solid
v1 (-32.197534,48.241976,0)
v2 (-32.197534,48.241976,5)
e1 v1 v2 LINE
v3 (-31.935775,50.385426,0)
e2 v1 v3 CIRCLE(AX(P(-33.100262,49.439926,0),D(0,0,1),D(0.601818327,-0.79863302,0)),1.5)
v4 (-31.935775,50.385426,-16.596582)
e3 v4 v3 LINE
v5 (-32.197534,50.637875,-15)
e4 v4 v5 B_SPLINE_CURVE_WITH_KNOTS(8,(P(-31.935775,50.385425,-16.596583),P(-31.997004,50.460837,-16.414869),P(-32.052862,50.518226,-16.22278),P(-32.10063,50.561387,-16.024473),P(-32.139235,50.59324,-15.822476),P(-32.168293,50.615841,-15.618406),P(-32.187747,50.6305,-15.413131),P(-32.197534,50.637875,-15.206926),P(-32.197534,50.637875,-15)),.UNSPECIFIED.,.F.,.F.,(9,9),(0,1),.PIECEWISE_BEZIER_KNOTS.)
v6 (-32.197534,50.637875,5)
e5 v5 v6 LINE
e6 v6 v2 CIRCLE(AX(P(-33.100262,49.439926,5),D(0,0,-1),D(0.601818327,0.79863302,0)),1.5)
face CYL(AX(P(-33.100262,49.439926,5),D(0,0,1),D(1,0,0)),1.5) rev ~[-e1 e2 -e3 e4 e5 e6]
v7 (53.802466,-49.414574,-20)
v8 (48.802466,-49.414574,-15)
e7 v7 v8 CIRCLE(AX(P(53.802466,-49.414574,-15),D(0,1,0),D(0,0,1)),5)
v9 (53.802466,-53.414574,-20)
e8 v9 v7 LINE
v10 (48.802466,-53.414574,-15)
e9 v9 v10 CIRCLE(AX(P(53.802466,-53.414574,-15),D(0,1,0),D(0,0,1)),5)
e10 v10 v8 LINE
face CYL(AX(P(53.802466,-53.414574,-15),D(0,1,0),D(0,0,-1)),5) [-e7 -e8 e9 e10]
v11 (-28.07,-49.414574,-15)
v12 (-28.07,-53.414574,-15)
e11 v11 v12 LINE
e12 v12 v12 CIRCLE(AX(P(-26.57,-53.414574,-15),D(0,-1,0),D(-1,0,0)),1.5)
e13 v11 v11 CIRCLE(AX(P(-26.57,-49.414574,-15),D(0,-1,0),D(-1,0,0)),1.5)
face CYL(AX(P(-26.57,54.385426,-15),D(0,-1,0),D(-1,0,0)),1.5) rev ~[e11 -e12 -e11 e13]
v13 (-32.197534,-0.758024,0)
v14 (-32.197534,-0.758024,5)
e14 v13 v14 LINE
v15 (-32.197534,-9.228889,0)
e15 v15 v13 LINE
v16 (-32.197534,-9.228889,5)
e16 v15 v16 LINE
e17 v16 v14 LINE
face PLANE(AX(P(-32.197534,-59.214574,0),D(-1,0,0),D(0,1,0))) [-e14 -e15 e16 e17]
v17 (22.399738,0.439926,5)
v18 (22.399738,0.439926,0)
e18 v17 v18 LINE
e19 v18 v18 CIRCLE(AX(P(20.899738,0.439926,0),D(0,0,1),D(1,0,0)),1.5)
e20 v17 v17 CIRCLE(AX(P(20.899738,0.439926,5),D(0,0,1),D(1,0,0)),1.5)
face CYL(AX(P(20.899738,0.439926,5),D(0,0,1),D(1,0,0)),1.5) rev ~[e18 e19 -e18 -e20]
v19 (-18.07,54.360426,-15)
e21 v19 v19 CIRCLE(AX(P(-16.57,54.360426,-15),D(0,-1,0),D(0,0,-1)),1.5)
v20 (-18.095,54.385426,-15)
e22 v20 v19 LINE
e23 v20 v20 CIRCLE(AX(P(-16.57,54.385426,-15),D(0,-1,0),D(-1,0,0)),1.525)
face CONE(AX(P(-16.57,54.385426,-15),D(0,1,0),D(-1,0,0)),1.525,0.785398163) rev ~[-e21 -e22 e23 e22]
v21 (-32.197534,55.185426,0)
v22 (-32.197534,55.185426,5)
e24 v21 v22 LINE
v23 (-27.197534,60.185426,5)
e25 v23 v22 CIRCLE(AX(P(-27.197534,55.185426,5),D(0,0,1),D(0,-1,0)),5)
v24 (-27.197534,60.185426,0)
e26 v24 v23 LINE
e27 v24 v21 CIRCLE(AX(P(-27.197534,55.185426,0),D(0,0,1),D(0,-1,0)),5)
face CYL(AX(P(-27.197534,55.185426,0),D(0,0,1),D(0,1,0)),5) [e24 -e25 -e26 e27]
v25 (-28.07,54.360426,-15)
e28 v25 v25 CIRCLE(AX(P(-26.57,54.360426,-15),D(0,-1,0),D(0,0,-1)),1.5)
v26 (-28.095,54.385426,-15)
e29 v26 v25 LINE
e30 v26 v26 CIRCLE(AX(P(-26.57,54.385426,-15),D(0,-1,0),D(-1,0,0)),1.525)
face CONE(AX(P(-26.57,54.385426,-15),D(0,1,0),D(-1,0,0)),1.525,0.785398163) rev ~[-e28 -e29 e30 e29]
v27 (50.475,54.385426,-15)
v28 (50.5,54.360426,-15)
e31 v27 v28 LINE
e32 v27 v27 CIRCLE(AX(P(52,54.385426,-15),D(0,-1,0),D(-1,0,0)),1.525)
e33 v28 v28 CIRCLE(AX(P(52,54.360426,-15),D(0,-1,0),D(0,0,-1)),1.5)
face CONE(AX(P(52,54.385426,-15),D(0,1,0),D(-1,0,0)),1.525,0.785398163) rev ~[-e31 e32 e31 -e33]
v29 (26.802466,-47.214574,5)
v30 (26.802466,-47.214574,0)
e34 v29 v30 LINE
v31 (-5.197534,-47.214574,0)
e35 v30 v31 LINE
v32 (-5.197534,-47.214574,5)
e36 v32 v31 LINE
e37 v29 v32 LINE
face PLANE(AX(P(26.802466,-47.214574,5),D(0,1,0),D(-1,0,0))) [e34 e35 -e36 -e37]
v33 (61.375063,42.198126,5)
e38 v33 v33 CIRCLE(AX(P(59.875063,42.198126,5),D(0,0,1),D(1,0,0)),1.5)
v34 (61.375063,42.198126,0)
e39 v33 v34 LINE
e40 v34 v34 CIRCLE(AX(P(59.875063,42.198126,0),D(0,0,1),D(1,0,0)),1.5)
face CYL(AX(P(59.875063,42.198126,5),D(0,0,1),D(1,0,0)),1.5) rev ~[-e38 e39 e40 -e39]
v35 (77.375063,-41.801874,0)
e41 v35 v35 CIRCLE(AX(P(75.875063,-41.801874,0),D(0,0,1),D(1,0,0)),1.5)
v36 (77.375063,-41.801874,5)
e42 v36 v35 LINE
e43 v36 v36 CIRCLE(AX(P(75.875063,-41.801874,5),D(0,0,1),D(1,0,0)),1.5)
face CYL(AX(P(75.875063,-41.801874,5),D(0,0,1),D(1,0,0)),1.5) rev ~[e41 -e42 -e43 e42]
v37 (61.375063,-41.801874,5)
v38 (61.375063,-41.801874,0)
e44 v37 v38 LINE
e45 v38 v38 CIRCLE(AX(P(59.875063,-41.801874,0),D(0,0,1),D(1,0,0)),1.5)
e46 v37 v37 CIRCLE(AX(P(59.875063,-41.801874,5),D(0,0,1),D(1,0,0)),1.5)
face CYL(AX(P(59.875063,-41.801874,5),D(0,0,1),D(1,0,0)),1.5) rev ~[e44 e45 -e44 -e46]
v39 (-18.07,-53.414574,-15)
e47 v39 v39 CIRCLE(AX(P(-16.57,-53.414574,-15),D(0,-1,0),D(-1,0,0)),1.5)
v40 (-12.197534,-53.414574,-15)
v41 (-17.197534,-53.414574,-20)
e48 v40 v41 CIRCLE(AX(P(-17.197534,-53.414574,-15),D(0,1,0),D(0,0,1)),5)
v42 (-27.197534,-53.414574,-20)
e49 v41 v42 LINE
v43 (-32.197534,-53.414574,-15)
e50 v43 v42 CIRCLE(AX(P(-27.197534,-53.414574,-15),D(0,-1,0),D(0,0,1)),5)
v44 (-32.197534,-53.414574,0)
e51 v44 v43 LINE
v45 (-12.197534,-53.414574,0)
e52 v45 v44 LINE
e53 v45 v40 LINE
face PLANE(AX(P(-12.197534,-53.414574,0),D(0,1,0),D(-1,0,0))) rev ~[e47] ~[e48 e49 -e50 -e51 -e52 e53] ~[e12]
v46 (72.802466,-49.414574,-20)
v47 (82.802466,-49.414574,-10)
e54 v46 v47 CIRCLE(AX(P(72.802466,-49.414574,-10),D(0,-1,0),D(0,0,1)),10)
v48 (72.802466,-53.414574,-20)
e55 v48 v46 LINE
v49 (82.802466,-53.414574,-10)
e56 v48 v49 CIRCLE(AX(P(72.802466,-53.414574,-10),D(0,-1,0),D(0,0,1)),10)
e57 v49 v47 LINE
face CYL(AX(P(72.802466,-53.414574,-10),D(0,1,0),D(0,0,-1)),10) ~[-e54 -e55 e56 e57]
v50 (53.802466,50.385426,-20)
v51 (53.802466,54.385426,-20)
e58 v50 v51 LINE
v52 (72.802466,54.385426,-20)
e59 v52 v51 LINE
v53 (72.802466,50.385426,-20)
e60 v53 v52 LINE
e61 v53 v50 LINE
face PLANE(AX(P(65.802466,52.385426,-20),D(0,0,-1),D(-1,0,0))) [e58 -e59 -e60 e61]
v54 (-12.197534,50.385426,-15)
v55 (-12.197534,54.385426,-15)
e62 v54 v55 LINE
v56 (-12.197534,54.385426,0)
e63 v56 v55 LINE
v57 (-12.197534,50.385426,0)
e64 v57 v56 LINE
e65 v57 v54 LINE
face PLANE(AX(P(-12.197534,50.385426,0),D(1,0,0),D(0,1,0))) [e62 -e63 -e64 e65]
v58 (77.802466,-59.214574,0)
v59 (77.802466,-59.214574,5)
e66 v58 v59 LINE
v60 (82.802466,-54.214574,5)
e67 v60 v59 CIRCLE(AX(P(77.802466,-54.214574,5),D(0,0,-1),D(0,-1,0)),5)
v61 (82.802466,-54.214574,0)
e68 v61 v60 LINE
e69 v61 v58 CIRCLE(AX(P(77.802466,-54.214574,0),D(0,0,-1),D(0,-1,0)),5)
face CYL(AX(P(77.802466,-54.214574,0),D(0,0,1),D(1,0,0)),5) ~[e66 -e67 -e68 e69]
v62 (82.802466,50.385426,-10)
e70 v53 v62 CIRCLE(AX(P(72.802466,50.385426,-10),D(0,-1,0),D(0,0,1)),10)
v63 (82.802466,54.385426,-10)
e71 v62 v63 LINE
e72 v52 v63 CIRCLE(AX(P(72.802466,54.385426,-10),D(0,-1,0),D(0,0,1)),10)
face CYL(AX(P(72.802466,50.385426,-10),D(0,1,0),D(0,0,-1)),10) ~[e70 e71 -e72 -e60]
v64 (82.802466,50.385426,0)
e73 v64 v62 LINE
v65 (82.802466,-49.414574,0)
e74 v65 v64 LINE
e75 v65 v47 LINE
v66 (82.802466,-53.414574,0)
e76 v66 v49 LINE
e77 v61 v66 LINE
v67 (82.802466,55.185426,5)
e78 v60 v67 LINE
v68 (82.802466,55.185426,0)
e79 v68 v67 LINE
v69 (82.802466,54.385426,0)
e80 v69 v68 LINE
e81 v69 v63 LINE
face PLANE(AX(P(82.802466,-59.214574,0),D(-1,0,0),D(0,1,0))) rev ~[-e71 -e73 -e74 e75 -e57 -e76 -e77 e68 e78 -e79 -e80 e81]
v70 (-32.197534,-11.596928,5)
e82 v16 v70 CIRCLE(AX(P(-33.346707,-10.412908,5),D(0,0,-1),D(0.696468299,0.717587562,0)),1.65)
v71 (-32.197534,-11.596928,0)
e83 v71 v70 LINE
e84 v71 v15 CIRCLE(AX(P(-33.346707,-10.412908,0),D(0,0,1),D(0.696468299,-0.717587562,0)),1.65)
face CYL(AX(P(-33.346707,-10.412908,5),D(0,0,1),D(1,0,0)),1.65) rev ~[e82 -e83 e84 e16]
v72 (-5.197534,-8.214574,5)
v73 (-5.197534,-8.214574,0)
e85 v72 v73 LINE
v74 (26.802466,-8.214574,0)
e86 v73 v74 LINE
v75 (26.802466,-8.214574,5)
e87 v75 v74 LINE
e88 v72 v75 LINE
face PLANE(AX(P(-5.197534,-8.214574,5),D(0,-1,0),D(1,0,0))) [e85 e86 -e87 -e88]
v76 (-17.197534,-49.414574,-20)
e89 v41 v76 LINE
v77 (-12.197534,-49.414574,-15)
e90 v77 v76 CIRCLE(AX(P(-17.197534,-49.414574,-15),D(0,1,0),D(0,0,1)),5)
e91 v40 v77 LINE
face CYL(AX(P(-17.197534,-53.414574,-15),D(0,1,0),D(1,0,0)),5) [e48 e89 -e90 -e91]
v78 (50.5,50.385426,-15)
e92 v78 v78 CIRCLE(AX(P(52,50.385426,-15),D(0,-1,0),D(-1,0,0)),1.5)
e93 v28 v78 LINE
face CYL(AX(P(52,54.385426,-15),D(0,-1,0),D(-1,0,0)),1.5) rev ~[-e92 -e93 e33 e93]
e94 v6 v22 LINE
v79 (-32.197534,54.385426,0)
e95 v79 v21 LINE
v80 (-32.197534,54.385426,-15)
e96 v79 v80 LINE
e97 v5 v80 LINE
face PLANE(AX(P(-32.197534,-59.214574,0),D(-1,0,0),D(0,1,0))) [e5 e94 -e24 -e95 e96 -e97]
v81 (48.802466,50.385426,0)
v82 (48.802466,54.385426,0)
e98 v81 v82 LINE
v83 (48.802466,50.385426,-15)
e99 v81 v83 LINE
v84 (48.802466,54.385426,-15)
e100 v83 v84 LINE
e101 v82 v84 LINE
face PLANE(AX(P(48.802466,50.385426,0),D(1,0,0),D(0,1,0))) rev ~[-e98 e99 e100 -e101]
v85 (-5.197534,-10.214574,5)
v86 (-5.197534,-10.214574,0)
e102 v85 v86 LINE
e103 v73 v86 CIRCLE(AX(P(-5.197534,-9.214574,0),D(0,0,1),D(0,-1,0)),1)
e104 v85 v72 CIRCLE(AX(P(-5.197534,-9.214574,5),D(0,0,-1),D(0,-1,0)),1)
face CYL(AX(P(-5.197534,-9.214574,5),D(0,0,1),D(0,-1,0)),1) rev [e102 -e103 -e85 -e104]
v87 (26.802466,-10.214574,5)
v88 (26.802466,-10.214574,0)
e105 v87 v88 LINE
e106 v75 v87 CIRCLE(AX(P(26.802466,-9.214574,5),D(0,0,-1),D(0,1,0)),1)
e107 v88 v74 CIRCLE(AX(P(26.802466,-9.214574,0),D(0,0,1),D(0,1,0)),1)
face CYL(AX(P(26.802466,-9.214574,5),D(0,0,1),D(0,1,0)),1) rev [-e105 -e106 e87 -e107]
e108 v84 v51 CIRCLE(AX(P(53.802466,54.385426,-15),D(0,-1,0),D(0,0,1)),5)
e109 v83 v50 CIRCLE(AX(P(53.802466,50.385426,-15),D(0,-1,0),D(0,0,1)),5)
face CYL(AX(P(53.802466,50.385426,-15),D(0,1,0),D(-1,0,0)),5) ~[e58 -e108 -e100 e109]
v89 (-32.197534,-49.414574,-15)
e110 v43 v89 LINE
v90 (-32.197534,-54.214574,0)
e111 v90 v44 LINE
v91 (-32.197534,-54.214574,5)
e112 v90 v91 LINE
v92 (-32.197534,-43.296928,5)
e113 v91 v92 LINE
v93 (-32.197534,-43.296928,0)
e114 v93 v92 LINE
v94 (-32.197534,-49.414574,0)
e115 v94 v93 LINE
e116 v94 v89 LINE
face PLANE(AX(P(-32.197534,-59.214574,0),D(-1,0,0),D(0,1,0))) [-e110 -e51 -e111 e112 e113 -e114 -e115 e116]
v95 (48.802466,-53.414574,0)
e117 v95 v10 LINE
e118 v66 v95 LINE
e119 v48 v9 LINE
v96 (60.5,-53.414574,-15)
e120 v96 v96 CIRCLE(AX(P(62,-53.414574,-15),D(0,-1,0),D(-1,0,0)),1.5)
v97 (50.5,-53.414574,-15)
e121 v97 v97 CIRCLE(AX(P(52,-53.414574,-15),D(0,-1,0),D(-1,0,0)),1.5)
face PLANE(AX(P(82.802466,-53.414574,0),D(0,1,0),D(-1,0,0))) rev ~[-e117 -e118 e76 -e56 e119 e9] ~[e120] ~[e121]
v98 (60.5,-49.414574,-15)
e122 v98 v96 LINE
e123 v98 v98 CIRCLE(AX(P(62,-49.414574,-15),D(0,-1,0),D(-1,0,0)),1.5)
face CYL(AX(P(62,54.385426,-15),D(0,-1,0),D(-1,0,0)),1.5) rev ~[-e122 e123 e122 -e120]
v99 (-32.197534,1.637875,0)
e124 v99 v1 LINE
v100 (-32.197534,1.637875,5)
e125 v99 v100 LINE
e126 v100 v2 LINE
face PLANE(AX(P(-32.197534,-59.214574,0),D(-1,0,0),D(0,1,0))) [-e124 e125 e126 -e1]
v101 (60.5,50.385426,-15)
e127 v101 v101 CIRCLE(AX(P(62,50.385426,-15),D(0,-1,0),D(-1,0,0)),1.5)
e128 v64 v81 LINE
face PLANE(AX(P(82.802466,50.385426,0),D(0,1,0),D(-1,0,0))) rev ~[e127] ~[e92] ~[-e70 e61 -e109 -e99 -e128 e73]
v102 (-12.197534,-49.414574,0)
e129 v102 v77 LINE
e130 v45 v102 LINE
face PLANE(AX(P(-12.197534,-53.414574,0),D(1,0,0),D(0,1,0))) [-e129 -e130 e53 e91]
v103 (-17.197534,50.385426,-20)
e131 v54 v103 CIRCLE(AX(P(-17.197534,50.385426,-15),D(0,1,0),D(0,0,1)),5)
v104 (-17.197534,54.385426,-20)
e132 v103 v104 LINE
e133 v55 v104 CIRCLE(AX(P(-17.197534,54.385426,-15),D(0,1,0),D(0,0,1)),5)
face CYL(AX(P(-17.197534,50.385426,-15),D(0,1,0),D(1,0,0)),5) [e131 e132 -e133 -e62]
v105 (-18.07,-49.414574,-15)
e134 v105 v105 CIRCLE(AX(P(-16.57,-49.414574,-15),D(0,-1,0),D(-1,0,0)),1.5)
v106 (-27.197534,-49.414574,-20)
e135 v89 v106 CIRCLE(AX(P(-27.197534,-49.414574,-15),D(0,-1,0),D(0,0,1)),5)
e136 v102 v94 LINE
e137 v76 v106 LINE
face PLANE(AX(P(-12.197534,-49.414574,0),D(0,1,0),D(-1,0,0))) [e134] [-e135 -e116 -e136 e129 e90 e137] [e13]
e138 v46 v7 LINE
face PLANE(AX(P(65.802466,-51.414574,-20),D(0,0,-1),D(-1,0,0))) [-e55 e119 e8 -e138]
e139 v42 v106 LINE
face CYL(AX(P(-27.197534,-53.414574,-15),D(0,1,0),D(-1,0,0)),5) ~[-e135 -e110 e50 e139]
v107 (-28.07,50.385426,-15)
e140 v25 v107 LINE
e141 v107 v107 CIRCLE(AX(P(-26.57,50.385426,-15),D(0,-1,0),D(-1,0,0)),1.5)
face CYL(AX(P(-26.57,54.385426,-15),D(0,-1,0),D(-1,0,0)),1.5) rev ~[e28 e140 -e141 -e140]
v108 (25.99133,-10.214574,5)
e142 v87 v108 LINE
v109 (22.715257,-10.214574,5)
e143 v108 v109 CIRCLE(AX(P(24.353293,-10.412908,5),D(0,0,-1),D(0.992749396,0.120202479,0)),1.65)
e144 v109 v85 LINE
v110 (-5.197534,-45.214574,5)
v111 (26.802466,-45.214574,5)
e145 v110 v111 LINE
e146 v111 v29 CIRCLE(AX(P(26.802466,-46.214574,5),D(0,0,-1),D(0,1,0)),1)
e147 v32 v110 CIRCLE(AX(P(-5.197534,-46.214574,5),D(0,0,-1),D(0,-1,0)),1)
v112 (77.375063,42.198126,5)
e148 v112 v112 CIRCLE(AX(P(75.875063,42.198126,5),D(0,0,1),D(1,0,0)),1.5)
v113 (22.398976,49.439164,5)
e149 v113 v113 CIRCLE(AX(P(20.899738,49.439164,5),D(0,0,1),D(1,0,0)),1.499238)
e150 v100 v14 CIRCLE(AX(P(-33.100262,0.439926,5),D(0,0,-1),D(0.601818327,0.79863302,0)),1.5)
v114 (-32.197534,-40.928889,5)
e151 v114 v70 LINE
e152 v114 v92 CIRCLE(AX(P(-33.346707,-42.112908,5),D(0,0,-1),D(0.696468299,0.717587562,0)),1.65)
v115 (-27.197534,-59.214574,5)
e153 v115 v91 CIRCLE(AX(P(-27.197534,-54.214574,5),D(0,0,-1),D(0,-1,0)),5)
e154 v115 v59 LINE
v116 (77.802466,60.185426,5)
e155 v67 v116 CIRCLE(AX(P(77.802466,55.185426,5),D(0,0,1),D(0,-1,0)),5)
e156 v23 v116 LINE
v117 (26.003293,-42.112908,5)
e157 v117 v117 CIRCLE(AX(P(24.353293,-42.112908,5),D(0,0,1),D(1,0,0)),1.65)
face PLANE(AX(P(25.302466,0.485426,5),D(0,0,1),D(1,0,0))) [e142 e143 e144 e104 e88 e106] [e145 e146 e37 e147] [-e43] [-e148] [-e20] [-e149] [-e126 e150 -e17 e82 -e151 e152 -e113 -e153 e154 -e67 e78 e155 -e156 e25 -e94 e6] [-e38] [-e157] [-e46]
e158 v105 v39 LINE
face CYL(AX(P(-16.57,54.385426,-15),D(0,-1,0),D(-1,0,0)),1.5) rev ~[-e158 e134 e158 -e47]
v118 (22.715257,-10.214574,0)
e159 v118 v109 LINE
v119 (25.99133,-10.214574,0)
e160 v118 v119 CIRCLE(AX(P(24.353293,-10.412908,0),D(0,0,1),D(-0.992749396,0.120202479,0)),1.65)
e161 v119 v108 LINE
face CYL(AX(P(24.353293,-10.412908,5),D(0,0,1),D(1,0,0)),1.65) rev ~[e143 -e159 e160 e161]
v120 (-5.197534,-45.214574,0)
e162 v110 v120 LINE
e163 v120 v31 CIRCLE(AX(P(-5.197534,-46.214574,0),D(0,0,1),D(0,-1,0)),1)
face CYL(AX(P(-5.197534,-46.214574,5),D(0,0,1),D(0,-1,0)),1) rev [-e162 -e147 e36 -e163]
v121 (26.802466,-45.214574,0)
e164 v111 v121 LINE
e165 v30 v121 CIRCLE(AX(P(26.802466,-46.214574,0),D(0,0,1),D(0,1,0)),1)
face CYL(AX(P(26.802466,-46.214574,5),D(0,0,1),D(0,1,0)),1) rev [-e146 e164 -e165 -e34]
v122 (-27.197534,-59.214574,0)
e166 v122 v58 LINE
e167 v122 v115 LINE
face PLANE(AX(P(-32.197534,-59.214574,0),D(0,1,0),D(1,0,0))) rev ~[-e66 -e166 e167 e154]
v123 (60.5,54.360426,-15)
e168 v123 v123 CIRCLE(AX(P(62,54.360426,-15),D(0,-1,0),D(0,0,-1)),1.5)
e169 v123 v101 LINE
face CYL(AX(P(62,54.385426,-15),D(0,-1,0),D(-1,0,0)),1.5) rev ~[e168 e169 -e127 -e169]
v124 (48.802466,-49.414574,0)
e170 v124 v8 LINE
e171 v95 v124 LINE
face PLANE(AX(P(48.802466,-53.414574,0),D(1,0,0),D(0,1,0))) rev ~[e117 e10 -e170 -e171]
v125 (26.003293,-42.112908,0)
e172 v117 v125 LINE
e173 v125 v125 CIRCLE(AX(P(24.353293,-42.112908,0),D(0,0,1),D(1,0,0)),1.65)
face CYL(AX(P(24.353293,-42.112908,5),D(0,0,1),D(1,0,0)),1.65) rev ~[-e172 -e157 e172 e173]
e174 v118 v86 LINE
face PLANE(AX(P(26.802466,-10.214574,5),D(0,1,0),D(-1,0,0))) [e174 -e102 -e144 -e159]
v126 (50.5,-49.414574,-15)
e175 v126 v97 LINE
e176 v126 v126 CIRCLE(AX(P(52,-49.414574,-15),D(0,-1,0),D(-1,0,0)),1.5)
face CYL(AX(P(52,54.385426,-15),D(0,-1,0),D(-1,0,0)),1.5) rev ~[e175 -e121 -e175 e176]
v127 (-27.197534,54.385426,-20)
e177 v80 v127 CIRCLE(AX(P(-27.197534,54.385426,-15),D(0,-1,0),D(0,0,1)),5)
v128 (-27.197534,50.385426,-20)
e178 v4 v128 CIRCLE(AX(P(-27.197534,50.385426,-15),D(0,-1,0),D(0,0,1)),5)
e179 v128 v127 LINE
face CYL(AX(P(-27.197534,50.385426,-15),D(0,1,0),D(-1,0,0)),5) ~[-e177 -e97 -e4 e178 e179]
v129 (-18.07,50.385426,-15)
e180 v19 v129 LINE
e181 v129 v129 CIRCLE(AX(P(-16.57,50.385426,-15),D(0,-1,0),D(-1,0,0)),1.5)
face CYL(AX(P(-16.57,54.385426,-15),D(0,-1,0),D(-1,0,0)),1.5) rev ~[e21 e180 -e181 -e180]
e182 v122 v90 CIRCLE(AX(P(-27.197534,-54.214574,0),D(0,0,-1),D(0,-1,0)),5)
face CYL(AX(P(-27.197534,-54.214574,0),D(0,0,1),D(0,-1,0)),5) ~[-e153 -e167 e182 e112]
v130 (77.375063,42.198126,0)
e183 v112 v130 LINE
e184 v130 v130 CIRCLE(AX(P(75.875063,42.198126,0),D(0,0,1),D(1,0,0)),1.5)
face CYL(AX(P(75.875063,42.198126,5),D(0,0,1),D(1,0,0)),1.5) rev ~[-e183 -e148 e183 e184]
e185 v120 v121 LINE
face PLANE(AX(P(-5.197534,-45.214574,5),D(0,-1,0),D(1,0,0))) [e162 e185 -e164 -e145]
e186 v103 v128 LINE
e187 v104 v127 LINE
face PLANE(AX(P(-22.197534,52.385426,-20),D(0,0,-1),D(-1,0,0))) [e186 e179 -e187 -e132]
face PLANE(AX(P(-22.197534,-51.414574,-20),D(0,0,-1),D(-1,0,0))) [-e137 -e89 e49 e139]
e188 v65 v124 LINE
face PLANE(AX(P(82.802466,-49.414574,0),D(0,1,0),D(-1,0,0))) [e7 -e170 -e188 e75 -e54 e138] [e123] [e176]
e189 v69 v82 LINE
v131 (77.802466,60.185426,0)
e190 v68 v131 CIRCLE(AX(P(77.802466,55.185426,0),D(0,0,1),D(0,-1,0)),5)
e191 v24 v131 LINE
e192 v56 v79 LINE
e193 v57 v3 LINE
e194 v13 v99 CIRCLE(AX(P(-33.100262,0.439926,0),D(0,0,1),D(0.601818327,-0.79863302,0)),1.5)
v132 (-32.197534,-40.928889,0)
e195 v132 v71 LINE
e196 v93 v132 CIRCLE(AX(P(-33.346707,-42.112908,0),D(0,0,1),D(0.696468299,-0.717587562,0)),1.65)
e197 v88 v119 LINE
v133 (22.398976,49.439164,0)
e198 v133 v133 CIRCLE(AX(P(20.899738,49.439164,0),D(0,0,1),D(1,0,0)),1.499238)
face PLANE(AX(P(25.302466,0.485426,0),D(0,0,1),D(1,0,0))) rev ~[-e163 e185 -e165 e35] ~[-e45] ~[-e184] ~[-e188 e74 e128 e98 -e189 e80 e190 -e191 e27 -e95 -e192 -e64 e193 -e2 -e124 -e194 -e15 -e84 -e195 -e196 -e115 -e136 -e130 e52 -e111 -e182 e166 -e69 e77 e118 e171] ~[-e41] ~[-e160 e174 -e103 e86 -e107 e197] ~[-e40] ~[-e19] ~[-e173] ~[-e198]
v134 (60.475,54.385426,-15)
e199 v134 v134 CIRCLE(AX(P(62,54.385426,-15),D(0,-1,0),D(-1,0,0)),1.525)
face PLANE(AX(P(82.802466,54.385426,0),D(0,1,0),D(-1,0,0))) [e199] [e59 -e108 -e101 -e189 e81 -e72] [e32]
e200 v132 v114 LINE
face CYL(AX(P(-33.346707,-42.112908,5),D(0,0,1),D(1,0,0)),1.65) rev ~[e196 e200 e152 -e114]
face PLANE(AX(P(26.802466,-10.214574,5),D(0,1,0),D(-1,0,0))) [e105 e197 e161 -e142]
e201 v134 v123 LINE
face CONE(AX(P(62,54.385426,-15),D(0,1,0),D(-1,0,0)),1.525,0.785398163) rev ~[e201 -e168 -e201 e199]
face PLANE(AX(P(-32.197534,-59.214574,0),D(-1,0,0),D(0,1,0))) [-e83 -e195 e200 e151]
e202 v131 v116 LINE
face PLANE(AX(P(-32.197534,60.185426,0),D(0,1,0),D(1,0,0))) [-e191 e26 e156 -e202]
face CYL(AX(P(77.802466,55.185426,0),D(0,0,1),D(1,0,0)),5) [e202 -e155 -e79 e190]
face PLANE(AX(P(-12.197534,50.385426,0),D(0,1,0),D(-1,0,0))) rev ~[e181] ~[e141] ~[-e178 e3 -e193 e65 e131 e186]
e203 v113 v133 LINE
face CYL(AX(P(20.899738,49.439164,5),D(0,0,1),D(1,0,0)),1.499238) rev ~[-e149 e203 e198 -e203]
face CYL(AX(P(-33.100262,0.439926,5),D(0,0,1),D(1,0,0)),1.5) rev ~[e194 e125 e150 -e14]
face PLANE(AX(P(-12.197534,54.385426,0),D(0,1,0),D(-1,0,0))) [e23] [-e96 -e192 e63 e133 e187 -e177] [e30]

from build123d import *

# Parameters (mm, degrees)
SKETCH_1_W            = 115
SKETCH_1_H            = 119.4
EXTRUDE_1_DEPTH       = 5
SKETCH_2_W            = 20
SKETCH_2_H            = 4
SKETCH_2_W_2          = 34
EXTRUDE_2_DEPTH       = 20
F_3_0MM_1_D           = 3
F_3_0MM_1_CSINK_D     = 3.05
F_3_0MM_1_CSINK_ANGLE = 90
FILLET_1_R            = 10
FILLET_2_R            = 5
FILLET_3_R            = 5
SKETCH_5_R            = 1.5
SKETCH_5_R_2          = 1.499237998
SKETCH_5_R_3          = 1.65
CUT_EXTRUDE_1_DEPTH   = 106.373307238
CUT_EXTRUDE_2_DEPTH   = 106.373307262


with BuildPart() as part:
    # 草图1 → 凸台-拉伸1 (new body)
    with BuildSketch(Plane.XY):
        with Locations((25.302465961, 0.485426053)):
            Rectangle(SKETCH_1_W, SKETCH_1_H)
    extrude(amount=EXTRUDE_1_DEPTH)

    # 草图2 → 凸台-拉伸2 (add)
    with BuildSketch(Plane(origin=(0, 0, 0), x_dir=(-1, 0, 0), z_dir=(0, 0, -1))):
        with Locations((22.197534039, 52.385426053)):
            Rectangle(SKETCH_2_W, SKETCH_2_H)
        with Locations((-65.802465961, 52.385426053)):
            Rectangle(SKETCH_2_W_2, SKETCH_2_H)
        with Locations((-65.802465961, -51.414573947)):
            Rectangle(SKETCH_2_W_2, SKETCH_2_H)
        with Locations((22.197534039, -51.414573947)):
            Rectangle(SKETCH_2_W, SKETCH_2_H)
    extrude(amount=EXTRUDE_2_DEPTH)

    # Ø3.0mm 暗销孔1 (through all)
    with Locations(Plane(origin=(0, 54.385426053, 0), x_dir=(1, 0, 0), z_dir=(0, 1, 0))):
        with Locations((62, 15), (-16.57, 15), (-26.57, 15), (52, 15)):
            CounterSinkHole(F_3_0MM_1_D / 2, F_3_0MM_1_CSINK_D / 2, counter_sink_angle=F_3_0MM_1_CSINK_ANGLE)

    # 圆角1
    fillet_1_edges = [part.edges().sort_by_distance(p)[0] for p in [
        (82.802465961, 52.385426053, -20),
        (82.802465961, -51.414573947, -20),
    ]]
    fillet(fillet_1_edges, radius=FILLET_1_R)

    # 圆角2
    fillet_2_edges = [part.edges().sort_by_distance(p)[0] for p in [
        (-12.197534039, 52.385426053, -20),
        (-32.197534039, 52.385426053, -20),
        (48.802465961, 52.385426053, -20),
        (48.802465961, -51.414573947, -20),
        (-12.197534039, -51.414573947, -20),
        (-32.197534039, -51.414573947, -20),
    ]]
    fillet(fillet_2_edges, radius=FILLET_2_R)

    # 圆角3
    fillet_3_edges = [part.edges().sort_by_distance(p)[0] for p in [
        (-32.197534039, 60.185426053, 2.5),
        (82.802465961, 60.185426053, 2.5),
        (82.802465961, -59.214573947, 2.5),
        (-32.197534039, -59.214573947, 2.5),
    ]]
    fillet(fillet_3_edges, radius=FILLET_3_R)

    # 草图5 → 切除-拉伸1 (cut, through all)
    with BuildSketch(Plane.XY.offset(5)):
        with Locations((-33.10026153, 49.4399256)):
            Circle(SKETCH_5_R)
        with Locations((20.89973847, 49.439163598)):
            Circle(SKETCH_5_R_2)
        with Locations((20.89973847, 0.4399256)):
            Circle(SKETCH_5_R)
        with Locations((-33.10026153, 0.4399256)):
            Circle(SKETCH_5_R)
        with Locations((59.875063234, 42.198126078)):
            Circle(SKETCH_5_R)
        with Locations((75.875063234, 42.198126078)):
            Circle(SKETCH_5_R)
        with Locations((59.875063234, -41.801873922)):
            Circle(SKETCH_5_R)
        with Locations((75.875063234, -41.801873922)):
            Circle(SKETCH_5_R)
        with Locations((-33.346706732, -42.112908038)):
            Circle(SKETCH_5_R_3)
        with Locations((-33.346706732, -10.412908038)):
            Circle(SKETCH_5_R_3)
        with Locations((24.353293268, -10.412908038)):
            Circle(SKETCH_5_R_3)
        with Locations((24.353293268, -42.112908038)):
            Circle(SKETCH_5_R_3)
    extrude(amount=-CUT_EXTRUDE_1_DEPTH, mode=Mode.SUBTRACT)

    # 草图6 → 切除-拉伸2 (cut, through all)
    with BuildSketch(Plane.XY.offset(5)):
        with BuildLine():
            Line((-5.197534039, -8.214573947), (26.802465961, -8.214573947))
            ThreePointArc((26.802465961, -8.214573947), (27.802465961, -9.214573947), (26.802465961, -10.214573947))
            Line((26.802465961, -10.214573947), (-5.197534039, -10.214573947))
            ThreePointArc((-5.197534039, -10.214573947), (-6.197534039, -9.214573947), (-5.197534039, -8.214573947))
        make_face()
        with BuildLine():
            Line((-5.197534039, -45.214573947), (26.802465961, -45.214573947))
            ThreePointArc((26.802465961, -45.214573947), (27.802465961, -46.214573947), (26.802465961, -47.214573947))
            Line((26.802465961, -47.214573947), (-5.197534039, -47.214573947))
            ThreePointArc((-5.197534039, -47.214573947), (-6.197534039, -46.214573947), (-5.197534039, -45.214573947))
        make_face()
    extrude(amount=-CUT_EXTRUDE_2_DEPTH, mode=Mode.SUBTRACT)


solid = part.part
